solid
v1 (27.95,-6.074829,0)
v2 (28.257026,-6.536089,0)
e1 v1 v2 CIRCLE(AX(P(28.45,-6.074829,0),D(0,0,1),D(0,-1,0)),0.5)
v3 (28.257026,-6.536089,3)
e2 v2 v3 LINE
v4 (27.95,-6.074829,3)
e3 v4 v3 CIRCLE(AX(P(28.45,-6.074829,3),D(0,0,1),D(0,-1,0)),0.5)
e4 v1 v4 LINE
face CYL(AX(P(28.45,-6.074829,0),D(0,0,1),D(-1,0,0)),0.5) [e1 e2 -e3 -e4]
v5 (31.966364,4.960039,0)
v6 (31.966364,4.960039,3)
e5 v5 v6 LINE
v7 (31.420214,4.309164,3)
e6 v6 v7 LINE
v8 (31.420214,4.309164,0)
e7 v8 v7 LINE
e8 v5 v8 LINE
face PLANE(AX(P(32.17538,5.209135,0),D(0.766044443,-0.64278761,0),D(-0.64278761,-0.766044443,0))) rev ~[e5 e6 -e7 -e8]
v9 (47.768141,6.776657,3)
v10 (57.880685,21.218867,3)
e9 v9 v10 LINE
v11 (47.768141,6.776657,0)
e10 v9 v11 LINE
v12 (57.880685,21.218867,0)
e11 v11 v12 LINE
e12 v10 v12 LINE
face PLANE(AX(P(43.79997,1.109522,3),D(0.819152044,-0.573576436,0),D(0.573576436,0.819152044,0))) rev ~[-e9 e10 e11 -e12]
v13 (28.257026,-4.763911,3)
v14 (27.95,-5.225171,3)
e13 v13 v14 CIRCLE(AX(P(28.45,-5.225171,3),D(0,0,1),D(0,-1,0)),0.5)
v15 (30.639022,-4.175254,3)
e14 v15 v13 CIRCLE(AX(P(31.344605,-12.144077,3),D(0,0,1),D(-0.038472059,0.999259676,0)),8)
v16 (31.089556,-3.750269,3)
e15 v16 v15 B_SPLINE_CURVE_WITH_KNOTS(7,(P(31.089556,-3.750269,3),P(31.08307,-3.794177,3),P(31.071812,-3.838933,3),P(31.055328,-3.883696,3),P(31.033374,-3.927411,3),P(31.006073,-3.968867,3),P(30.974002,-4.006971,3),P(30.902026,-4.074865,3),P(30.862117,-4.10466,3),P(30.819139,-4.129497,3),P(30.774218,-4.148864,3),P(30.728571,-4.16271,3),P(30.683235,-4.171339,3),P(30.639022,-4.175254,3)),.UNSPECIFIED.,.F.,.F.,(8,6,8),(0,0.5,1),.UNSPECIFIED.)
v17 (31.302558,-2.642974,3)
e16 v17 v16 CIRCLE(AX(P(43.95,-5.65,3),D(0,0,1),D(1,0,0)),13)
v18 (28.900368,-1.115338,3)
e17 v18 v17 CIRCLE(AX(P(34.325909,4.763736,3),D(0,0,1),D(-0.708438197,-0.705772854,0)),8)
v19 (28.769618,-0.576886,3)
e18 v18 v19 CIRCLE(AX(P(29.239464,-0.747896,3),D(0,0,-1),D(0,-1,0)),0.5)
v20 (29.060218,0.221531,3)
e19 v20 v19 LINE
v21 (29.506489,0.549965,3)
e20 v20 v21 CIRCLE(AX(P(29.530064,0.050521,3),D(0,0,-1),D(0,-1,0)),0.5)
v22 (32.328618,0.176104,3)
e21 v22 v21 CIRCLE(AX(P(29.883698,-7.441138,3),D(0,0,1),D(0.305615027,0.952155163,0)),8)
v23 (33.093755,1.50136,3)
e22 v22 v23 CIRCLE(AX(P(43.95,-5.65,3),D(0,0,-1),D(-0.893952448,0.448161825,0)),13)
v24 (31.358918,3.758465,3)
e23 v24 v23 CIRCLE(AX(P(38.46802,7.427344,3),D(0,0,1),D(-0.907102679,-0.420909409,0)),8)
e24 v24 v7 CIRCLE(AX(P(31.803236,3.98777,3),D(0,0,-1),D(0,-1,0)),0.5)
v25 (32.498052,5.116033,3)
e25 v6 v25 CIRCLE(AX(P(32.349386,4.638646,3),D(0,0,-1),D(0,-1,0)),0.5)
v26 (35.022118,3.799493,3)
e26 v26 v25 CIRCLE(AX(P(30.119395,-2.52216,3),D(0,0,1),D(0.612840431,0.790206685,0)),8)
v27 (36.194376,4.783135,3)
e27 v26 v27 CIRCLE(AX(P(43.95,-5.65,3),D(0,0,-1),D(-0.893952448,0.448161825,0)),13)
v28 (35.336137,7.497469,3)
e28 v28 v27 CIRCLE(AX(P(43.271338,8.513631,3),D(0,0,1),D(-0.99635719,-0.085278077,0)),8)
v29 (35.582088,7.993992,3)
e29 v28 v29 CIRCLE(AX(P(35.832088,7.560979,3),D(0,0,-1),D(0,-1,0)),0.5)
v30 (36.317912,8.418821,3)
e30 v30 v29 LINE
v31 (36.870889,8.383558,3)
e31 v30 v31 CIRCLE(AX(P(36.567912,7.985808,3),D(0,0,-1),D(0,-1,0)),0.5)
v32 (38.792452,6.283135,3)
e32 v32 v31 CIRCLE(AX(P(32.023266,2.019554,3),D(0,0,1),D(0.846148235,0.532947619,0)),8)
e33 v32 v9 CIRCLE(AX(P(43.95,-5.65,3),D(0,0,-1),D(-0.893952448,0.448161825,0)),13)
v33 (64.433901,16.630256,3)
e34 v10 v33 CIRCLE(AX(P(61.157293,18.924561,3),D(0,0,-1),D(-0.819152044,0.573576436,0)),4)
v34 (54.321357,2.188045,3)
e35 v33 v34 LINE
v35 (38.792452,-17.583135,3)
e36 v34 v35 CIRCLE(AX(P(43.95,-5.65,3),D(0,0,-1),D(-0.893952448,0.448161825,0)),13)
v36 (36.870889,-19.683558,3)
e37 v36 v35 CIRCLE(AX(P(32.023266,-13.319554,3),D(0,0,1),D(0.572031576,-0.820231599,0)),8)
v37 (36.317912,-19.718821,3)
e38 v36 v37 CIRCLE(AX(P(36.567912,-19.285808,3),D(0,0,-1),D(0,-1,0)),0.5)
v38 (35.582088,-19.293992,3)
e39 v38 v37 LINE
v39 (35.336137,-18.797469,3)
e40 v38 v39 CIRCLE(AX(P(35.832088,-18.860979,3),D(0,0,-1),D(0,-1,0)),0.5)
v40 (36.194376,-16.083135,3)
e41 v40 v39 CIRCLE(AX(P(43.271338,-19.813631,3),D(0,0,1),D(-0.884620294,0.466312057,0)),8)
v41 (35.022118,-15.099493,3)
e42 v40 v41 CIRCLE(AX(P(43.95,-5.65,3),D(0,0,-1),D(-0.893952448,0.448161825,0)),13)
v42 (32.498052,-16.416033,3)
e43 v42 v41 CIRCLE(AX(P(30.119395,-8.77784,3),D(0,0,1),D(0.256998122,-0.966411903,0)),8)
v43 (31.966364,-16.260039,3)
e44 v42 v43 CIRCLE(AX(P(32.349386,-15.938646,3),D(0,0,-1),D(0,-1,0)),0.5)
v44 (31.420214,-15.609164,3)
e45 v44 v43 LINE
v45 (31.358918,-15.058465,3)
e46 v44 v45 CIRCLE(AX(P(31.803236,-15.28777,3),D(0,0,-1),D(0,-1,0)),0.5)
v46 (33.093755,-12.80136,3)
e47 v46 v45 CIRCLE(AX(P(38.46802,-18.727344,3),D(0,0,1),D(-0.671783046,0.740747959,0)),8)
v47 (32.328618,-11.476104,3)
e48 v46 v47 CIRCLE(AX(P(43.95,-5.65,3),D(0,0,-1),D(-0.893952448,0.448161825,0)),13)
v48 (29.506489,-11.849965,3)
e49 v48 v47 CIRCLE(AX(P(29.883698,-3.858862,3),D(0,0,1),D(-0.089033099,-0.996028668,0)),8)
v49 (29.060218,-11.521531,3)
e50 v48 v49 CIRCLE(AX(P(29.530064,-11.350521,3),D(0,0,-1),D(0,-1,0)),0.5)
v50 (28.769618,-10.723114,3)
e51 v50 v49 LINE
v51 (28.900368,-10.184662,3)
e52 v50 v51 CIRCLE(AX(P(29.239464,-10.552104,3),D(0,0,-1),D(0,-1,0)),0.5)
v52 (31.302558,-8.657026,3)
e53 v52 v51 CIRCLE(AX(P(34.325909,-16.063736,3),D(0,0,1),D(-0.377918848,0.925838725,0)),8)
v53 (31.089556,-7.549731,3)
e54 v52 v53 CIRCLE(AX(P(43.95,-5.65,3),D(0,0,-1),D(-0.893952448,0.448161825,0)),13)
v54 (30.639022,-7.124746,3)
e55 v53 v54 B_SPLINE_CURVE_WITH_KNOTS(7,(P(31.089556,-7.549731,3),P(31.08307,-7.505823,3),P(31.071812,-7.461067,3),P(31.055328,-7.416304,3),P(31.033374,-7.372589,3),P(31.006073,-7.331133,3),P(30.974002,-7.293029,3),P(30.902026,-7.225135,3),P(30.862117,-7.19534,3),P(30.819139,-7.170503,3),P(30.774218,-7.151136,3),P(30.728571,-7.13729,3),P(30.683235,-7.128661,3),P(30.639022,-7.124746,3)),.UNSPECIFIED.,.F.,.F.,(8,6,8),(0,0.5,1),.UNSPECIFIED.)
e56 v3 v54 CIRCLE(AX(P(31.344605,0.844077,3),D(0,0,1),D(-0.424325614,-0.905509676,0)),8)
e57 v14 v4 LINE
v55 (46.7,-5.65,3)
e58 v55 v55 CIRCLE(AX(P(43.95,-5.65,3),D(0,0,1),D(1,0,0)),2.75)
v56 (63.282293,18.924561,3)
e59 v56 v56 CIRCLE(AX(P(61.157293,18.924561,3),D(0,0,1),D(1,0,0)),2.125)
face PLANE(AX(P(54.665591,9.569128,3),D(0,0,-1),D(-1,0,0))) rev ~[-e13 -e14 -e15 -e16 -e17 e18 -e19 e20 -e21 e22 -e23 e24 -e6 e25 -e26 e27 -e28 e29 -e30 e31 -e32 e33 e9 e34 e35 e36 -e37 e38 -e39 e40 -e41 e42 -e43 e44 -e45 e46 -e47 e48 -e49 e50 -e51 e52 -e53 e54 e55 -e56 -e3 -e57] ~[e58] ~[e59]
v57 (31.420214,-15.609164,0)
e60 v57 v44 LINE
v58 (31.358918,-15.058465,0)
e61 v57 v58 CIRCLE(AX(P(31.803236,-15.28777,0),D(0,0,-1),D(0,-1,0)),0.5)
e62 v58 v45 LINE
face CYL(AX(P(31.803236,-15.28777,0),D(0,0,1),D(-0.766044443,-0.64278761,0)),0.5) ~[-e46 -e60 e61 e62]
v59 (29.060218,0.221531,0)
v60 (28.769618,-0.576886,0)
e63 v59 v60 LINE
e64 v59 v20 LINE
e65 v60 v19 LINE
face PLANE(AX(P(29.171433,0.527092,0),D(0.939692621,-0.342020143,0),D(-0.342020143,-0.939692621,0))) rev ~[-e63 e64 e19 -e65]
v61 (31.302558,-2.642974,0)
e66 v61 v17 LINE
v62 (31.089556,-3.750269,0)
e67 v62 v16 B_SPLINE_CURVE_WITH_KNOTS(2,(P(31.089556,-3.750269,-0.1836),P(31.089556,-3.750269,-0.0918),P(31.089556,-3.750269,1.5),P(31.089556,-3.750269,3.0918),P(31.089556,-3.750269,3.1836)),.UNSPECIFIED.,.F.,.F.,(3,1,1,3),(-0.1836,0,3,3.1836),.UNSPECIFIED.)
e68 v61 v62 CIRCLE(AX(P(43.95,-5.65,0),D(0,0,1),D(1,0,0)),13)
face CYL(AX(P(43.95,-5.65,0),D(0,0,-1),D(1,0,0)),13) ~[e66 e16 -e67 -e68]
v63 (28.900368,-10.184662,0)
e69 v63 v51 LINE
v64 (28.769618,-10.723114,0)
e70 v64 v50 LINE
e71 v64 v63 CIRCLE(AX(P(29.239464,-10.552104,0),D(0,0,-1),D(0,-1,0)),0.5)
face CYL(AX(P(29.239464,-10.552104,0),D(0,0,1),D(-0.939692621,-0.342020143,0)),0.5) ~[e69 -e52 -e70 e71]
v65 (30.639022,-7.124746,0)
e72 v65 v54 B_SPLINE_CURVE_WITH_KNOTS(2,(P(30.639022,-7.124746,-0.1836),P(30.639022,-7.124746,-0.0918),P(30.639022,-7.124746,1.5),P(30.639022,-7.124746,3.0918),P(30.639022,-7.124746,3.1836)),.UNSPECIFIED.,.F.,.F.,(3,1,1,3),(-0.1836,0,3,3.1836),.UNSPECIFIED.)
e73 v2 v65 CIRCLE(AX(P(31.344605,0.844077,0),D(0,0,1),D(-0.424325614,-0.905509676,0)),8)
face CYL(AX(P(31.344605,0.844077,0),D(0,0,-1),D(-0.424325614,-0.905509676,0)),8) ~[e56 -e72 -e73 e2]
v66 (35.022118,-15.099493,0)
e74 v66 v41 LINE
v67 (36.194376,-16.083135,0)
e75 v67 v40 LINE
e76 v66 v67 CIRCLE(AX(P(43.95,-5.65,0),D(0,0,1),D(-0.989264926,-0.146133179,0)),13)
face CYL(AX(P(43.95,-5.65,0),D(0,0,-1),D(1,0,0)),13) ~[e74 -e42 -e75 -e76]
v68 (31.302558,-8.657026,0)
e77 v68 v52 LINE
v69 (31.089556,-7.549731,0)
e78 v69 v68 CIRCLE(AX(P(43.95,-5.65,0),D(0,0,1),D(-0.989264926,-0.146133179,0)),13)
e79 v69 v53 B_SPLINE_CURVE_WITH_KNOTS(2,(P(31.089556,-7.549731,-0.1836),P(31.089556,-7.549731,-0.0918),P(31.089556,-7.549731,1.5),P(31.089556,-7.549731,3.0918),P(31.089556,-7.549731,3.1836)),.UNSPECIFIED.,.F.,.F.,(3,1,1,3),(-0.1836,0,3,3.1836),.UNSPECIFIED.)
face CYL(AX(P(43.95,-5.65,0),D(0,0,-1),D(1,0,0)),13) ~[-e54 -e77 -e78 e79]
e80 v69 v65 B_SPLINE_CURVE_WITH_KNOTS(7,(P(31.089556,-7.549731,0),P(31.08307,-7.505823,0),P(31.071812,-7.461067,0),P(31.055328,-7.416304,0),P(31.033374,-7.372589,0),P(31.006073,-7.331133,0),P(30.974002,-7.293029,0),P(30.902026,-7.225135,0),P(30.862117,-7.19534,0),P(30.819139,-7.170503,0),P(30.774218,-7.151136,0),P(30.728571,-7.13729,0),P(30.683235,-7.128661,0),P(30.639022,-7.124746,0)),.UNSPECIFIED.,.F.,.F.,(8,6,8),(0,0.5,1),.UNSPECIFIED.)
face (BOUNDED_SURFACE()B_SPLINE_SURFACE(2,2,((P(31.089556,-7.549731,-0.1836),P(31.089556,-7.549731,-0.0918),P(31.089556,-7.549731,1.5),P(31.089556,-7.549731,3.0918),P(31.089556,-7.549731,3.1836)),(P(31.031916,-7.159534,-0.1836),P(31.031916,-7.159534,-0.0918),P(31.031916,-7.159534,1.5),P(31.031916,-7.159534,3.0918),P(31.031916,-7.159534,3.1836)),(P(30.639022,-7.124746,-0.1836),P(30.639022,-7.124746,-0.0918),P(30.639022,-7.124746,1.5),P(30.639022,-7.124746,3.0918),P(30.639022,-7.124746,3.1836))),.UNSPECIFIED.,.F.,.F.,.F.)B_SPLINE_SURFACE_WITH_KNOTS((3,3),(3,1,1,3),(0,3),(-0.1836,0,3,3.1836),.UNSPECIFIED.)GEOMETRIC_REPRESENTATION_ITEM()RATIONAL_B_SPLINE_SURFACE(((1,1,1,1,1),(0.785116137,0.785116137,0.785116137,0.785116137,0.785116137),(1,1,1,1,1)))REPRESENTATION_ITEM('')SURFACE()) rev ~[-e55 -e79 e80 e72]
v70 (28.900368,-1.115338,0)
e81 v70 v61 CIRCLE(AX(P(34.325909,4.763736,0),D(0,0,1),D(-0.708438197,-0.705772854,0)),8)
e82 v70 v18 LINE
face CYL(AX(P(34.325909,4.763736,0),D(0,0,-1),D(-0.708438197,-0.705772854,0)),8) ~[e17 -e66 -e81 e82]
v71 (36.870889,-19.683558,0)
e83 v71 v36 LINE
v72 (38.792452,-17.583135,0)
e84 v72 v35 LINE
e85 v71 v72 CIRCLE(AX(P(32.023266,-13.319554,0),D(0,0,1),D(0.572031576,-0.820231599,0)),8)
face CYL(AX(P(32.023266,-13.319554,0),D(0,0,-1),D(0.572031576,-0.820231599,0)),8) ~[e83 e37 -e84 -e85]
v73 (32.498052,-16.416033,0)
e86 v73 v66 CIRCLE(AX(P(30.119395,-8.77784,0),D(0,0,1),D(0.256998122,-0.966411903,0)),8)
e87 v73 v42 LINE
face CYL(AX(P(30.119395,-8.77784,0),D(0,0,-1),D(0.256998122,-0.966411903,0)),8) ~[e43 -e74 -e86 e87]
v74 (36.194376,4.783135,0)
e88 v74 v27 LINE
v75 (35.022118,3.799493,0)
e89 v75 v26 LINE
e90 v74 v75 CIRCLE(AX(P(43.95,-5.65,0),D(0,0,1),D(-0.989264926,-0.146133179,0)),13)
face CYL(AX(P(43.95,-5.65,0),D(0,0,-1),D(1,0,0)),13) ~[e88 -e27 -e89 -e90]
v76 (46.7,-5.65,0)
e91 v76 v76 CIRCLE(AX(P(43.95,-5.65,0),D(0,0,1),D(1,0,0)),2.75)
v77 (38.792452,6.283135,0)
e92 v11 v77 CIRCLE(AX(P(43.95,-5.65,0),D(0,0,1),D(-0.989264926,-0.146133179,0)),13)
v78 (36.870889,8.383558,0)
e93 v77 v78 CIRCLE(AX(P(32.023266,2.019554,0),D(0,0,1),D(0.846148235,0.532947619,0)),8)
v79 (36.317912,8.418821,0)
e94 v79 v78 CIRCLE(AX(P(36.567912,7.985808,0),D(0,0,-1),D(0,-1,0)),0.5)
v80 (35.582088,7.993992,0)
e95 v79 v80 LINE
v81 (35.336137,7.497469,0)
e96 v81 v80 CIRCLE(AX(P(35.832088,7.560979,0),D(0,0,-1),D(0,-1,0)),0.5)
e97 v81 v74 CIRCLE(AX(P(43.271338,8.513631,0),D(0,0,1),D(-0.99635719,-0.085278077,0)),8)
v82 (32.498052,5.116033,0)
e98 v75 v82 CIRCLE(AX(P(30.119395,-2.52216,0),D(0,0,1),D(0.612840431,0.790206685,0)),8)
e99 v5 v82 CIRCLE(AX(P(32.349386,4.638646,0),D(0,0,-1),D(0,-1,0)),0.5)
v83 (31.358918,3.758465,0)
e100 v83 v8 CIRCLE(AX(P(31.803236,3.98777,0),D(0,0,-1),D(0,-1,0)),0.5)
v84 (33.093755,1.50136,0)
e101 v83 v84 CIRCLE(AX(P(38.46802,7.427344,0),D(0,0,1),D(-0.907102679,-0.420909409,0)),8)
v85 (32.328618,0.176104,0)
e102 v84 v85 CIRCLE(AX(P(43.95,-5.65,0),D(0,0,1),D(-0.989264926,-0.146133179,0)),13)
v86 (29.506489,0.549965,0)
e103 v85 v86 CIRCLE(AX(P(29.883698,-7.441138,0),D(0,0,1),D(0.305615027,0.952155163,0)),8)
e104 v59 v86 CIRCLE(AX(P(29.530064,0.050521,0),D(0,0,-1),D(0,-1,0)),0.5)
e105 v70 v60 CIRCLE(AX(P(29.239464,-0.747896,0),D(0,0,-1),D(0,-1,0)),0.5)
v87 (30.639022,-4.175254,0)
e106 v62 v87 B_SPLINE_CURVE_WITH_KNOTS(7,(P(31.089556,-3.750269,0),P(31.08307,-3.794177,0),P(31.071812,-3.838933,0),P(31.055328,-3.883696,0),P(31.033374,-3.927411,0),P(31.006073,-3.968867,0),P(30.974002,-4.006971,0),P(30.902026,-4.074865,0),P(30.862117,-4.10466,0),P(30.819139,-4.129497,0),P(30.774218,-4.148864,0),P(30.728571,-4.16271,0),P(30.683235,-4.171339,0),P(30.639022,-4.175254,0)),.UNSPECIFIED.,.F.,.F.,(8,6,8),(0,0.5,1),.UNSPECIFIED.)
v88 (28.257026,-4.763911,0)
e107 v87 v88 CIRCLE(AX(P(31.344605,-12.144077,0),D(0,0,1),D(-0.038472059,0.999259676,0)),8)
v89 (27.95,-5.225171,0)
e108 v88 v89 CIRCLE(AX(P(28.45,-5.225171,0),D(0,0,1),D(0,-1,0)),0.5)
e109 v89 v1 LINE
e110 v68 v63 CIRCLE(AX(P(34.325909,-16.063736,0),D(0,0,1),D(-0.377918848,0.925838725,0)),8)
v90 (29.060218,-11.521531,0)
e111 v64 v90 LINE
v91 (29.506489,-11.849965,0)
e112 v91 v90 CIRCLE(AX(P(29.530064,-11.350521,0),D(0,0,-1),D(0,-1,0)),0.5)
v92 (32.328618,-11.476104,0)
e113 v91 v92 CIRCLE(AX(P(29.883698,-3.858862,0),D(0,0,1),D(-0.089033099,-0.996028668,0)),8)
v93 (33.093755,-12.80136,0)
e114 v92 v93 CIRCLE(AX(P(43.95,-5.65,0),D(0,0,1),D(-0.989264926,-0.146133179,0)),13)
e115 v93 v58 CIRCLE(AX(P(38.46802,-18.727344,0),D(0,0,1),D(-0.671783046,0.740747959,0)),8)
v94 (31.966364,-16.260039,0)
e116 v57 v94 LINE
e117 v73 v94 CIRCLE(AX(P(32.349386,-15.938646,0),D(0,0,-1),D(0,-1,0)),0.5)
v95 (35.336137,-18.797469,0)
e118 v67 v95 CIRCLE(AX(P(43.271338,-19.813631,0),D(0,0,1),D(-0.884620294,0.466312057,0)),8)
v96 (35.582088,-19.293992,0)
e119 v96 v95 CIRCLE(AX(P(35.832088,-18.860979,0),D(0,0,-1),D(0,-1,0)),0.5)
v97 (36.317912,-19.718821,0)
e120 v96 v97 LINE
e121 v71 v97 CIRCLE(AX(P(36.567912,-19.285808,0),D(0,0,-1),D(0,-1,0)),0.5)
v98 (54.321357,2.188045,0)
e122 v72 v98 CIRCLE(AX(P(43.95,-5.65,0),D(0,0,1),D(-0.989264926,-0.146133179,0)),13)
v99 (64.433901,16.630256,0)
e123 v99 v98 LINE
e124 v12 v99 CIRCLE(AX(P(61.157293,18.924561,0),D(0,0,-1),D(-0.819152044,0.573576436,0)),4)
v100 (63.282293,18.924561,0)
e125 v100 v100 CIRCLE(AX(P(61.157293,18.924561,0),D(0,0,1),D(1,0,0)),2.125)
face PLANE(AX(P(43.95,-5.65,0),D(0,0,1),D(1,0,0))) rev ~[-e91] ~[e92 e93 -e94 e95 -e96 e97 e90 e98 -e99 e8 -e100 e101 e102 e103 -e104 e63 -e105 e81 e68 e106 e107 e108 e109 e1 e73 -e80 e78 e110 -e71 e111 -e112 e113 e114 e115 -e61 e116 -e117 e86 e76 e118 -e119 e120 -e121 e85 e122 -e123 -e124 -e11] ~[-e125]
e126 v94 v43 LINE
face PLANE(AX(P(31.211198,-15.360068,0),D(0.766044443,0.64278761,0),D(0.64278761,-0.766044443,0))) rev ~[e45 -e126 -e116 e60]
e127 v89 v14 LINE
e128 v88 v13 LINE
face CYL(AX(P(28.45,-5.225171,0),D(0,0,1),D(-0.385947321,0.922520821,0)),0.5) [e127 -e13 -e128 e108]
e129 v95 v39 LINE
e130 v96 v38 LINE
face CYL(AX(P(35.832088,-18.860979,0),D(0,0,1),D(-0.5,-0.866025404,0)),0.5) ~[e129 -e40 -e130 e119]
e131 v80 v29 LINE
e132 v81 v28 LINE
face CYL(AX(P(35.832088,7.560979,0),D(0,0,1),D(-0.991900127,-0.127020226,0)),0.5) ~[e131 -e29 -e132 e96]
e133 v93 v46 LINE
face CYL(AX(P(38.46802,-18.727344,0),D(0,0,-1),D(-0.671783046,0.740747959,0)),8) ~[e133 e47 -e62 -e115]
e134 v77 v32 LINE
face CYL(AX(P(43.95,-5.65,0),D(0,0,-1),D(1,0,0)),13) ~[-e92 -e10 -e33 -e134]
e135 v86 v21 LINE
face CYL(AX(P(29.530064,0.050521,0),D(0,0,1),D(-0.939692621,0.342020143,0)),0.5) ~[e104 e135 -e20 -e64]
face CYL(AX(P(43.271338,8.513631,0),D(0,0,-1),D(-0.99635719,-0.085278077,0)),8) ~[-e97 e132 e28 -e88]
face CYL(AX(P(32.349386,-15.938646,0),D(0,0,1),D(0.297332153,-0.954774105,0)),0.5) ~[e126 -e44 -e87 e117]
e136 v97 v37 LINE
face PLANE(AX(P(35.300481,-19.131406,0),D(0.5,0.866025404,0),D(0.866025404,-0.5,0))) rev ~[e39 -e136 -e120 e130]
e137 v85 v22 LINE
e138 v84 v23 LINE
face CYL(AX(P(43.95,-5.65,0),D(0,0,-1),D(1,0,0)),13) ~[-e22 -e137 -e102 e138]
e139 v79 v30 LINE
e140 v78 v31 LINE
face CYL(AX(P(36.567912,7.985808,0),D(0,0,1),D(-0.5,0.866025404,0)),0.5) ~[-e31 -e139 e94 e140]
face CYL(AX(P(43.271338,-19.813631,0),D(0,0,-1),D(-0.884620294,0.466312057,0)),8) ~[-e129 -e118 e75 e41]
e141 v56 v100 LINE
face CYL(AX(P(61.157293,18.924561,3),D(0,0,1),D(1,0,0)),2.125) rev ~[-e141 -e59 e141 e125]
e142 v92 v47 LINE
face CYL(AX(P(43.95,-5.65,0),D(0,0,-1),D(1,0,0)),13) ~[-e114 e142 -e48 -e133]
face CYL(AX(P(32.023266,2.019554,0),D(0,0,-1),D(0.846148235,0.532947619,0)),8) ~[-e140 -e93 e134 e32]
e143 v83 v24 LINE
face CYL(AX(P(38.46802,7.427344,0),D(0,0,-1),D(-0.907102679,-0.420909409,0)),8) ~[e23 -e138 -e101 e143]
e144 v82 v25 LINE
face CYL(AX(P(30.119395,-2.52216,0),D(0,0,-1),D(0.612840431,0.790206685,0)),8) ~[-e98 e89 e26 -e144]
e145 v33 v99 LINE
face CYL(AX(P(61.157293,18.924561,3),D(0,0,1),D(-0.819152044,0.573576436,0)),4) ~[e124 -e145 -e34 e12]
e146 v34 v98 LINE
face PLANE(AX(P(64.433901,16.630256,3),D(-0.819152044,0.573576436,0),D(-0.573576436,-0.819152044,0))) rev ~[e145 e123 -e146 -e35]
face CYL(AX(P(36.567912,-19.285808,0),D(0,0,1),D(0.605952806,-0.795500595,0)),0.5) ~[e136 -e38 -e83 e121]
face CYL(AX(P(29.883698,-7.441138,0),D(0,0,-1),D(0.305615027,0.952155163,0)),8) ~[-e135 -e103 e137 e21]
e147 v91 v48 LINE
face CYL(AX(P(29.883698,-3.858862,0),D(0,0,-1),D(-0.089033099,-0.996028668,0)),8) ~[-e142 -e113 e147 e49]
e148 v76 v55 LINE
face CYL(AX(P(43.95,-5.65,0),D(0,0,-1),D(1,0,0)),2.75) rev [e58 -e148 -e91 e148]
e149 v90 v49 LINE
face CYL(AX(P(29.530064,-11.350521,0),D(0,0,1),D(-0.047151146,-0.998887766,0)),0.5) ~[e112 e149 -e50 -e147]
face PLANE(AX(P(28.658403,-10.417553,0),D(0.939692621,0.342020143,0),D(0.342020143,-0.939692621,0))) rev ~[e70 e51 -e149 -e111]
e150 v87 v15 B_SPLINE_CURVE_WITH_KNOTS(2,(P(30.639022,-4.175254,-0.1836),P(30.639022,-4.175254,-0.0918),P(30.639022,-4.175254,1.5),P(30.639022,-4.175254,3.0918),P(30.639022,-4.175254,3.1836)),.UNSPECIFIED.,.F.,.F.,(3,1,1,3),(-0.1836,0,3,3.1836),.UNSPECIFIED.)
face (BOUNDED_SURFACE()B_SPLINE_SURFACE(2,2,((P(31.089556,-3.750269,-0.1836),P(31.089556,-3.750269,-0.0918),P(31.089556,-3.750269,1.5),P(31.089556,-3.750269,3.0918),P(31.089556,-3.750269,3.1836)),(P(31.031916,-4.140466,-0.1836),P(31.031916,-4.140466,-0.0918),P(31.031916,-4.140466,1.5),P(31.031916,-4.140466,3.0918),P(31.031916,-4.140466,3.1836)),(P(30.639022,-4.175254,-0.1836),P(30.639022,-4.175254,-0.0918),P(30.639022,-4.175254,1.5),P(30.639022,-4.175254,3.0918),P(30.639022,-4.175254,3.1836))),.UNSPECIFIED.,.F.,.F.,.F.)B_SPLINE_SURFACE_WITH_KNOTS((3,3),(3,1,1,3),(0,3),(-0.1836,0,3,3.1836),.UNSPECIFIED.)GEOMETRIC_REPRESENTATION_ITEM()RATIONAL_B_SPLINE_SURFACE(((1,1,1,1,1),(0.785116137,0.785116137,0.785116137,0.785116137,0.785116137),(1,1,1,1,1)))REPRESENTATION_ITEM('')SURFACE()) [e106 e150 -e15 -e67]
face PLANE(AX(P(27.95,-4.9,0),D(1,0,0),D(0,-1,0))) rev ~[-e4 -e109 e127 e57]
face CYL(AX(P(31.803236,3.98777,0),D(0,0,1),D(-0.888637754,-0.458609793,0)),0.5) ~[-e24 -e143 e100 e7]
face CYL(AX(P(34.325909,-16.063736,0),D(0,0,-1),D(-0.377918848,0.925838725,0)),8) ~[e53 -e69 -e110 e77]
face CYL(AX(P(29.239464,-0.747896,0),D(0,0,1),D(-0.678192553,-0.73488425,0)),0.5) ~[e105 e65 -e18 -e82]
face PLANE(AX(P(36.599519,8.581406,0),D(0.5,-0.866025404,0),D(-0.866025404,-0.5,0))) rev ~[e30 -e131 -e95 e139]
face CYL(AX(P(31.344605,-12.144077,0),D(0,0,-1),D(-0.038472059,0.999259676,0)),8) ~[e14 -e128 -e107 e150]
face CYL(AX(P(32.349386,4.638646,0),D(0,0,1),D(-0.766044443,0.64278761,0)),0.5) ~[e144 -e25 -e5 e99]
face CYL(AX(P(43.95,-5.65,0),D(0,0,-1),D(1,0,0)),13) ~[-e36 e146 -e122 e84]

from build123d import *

# Parameters (mm, degrees)
SKETCH1_R           = 13
SKETCH1_R_2         = 2.75
BOSS_EXTRUDE1_DEPTH = 3
BOSS_EXTRUDE2_START = -3
BOSS_EXTRUDE2_DEPTH = 3
FILLET1_R           = 0.5
CIRPATTERN1_COUNT   = 4
CIRPATTERN1_ANGLE   = 60
CIRPATTERN2_COUNT   = 4
CIRPATTERN2_ANGLE   = 60
SKETCH3_R           = 2.125
BOSS_EXTRUDE3_DEPTH = 3
FILLET2_R           = 0.5


with BuildPart() as part:
    # Sketch1 → Boss-Extrude1 (new body)
    with BuildSketch(Plane.XY):
        with Locations((43.95, -5.65)):
            Circle(SKETCH1_R)
        with Locations((43.95, -5.65)):
            Circle(SKETCH1_R_2, mode=Mode.SUBTRACT)
    extrude(amount=BOSS_EXTRUDE1_DEPTH)

    # Sketch2 → Boss-Extrude2 (add)
    with BuildSketch(Plane.XY.offset(3).offset(BOSS_EXTRUDE2_START)):
        with BuildLine():
            Line((27.95, -4.9), (27.95, -6.4))
            ThreePointArc((27.95, -6.4), (29.455813765, -6.929754851), (31.03682843, -7.15))
            ThreePointArc((31.03682843, -7.15), (30.95, -5.65), (31.03682843, -4.15))
            ThreePointArc((31.03682843, -4.15), (29.455813765, -4.370245149), (27.95, -4.9))
        make_face()
    boss_extrude2 = extrude(amount=BOSS_EXTRUDE2_DEPTH)

    # Fillet1
    fillet1_edges = [part.edges().sort_by_distance(p)[0] for p in [
        (31.03682843, -7.15, 1.5),
        (27.95, -6.4, 1.5),
        (27.95, -4.9, 1.5),
        (31.03682843, -4.15, 1.5),
    ]]
    fillet(fillet1_edges, radius=FILLET1_R)

    # CirPattern1: Boss-Extrude2 ×4 about axis
    cirpattern1_axis = Axis((43.95, -5.65, 0), (0, 0, -1))
    for i in range(1, CIRPATTERN1_COUNT):
        add(boss_extrude2.rotate(cirpattern1_axis, i * CIRPATTERN1_ANGLE / (CIRPATTERN1_COUNT - 1)))

    # CirPattern2: Boss-Extrude2 ×4 about axis
    cirpattern2_axis = Axis((43.95, -5.65, 0), (0, 0, 1))
    for i in range(1, CIRPATTERN2_COUNT):
        add(boss_extrude2.rotate(cirpattern2_axis, i * CIRPATTERN2_ANGLE / (CIRPATTERN2_COUNT - 1)))

    # Sketch3 → Boss-Extrude3 (add)
    with BuildSketch(Plane.XY.offset(3)):
        with BuildLine():
            Line((43.799969992, 1.109522125), (57.880684913, 21.218867074))
            ThreePointArc((57.880684913, 21.218867074), (63.451598836, 22.201169506), (64.433901268, 16.630255583))
            Line((64.433901268, 16.630255583), (49.86779594, -4.172298707))
            Line((49.86779594, -4.172298707), (43.799969992, 1.109522125))
        make_face()
        with Locations((61.157293091, 18.924561329)):
            Circle(SKETCH3_R, mode=Mode.SUBTRACT)
    extrude(amount=-BOSS_EXTRUDE3_DEPTH)

    # Fillet2
    fillet2_edges = [part.edges().sort_by_distance(p)[0] for p in [
        (36.599519053, -19.881406461, 1.5),
        (35.300480947, -19.131406461, 1.5),
        (28.65840296, -0.882447172, 1.5),
        (29.171433175, 0.527091759, 1.5),
        (31.211198203, 4.060068423, 1.5),
        (32.175379617, 5.209135087, 1.5),
        (35.300480947, 7.831406461, 1.5),
        (36.599519053, 8.581406461, 1.5),
        (29.171433175, -11.827091759, 1.5),
        (28.65840296, -10.417552828, 1.5),
        (32.175379617, -16.509135087, 1.5),
        (31.211198203, -15.360068423, 1.5),
    ]]
    fillet(fillet2_edges, radius=FILLET2_R)


solid = part.part
